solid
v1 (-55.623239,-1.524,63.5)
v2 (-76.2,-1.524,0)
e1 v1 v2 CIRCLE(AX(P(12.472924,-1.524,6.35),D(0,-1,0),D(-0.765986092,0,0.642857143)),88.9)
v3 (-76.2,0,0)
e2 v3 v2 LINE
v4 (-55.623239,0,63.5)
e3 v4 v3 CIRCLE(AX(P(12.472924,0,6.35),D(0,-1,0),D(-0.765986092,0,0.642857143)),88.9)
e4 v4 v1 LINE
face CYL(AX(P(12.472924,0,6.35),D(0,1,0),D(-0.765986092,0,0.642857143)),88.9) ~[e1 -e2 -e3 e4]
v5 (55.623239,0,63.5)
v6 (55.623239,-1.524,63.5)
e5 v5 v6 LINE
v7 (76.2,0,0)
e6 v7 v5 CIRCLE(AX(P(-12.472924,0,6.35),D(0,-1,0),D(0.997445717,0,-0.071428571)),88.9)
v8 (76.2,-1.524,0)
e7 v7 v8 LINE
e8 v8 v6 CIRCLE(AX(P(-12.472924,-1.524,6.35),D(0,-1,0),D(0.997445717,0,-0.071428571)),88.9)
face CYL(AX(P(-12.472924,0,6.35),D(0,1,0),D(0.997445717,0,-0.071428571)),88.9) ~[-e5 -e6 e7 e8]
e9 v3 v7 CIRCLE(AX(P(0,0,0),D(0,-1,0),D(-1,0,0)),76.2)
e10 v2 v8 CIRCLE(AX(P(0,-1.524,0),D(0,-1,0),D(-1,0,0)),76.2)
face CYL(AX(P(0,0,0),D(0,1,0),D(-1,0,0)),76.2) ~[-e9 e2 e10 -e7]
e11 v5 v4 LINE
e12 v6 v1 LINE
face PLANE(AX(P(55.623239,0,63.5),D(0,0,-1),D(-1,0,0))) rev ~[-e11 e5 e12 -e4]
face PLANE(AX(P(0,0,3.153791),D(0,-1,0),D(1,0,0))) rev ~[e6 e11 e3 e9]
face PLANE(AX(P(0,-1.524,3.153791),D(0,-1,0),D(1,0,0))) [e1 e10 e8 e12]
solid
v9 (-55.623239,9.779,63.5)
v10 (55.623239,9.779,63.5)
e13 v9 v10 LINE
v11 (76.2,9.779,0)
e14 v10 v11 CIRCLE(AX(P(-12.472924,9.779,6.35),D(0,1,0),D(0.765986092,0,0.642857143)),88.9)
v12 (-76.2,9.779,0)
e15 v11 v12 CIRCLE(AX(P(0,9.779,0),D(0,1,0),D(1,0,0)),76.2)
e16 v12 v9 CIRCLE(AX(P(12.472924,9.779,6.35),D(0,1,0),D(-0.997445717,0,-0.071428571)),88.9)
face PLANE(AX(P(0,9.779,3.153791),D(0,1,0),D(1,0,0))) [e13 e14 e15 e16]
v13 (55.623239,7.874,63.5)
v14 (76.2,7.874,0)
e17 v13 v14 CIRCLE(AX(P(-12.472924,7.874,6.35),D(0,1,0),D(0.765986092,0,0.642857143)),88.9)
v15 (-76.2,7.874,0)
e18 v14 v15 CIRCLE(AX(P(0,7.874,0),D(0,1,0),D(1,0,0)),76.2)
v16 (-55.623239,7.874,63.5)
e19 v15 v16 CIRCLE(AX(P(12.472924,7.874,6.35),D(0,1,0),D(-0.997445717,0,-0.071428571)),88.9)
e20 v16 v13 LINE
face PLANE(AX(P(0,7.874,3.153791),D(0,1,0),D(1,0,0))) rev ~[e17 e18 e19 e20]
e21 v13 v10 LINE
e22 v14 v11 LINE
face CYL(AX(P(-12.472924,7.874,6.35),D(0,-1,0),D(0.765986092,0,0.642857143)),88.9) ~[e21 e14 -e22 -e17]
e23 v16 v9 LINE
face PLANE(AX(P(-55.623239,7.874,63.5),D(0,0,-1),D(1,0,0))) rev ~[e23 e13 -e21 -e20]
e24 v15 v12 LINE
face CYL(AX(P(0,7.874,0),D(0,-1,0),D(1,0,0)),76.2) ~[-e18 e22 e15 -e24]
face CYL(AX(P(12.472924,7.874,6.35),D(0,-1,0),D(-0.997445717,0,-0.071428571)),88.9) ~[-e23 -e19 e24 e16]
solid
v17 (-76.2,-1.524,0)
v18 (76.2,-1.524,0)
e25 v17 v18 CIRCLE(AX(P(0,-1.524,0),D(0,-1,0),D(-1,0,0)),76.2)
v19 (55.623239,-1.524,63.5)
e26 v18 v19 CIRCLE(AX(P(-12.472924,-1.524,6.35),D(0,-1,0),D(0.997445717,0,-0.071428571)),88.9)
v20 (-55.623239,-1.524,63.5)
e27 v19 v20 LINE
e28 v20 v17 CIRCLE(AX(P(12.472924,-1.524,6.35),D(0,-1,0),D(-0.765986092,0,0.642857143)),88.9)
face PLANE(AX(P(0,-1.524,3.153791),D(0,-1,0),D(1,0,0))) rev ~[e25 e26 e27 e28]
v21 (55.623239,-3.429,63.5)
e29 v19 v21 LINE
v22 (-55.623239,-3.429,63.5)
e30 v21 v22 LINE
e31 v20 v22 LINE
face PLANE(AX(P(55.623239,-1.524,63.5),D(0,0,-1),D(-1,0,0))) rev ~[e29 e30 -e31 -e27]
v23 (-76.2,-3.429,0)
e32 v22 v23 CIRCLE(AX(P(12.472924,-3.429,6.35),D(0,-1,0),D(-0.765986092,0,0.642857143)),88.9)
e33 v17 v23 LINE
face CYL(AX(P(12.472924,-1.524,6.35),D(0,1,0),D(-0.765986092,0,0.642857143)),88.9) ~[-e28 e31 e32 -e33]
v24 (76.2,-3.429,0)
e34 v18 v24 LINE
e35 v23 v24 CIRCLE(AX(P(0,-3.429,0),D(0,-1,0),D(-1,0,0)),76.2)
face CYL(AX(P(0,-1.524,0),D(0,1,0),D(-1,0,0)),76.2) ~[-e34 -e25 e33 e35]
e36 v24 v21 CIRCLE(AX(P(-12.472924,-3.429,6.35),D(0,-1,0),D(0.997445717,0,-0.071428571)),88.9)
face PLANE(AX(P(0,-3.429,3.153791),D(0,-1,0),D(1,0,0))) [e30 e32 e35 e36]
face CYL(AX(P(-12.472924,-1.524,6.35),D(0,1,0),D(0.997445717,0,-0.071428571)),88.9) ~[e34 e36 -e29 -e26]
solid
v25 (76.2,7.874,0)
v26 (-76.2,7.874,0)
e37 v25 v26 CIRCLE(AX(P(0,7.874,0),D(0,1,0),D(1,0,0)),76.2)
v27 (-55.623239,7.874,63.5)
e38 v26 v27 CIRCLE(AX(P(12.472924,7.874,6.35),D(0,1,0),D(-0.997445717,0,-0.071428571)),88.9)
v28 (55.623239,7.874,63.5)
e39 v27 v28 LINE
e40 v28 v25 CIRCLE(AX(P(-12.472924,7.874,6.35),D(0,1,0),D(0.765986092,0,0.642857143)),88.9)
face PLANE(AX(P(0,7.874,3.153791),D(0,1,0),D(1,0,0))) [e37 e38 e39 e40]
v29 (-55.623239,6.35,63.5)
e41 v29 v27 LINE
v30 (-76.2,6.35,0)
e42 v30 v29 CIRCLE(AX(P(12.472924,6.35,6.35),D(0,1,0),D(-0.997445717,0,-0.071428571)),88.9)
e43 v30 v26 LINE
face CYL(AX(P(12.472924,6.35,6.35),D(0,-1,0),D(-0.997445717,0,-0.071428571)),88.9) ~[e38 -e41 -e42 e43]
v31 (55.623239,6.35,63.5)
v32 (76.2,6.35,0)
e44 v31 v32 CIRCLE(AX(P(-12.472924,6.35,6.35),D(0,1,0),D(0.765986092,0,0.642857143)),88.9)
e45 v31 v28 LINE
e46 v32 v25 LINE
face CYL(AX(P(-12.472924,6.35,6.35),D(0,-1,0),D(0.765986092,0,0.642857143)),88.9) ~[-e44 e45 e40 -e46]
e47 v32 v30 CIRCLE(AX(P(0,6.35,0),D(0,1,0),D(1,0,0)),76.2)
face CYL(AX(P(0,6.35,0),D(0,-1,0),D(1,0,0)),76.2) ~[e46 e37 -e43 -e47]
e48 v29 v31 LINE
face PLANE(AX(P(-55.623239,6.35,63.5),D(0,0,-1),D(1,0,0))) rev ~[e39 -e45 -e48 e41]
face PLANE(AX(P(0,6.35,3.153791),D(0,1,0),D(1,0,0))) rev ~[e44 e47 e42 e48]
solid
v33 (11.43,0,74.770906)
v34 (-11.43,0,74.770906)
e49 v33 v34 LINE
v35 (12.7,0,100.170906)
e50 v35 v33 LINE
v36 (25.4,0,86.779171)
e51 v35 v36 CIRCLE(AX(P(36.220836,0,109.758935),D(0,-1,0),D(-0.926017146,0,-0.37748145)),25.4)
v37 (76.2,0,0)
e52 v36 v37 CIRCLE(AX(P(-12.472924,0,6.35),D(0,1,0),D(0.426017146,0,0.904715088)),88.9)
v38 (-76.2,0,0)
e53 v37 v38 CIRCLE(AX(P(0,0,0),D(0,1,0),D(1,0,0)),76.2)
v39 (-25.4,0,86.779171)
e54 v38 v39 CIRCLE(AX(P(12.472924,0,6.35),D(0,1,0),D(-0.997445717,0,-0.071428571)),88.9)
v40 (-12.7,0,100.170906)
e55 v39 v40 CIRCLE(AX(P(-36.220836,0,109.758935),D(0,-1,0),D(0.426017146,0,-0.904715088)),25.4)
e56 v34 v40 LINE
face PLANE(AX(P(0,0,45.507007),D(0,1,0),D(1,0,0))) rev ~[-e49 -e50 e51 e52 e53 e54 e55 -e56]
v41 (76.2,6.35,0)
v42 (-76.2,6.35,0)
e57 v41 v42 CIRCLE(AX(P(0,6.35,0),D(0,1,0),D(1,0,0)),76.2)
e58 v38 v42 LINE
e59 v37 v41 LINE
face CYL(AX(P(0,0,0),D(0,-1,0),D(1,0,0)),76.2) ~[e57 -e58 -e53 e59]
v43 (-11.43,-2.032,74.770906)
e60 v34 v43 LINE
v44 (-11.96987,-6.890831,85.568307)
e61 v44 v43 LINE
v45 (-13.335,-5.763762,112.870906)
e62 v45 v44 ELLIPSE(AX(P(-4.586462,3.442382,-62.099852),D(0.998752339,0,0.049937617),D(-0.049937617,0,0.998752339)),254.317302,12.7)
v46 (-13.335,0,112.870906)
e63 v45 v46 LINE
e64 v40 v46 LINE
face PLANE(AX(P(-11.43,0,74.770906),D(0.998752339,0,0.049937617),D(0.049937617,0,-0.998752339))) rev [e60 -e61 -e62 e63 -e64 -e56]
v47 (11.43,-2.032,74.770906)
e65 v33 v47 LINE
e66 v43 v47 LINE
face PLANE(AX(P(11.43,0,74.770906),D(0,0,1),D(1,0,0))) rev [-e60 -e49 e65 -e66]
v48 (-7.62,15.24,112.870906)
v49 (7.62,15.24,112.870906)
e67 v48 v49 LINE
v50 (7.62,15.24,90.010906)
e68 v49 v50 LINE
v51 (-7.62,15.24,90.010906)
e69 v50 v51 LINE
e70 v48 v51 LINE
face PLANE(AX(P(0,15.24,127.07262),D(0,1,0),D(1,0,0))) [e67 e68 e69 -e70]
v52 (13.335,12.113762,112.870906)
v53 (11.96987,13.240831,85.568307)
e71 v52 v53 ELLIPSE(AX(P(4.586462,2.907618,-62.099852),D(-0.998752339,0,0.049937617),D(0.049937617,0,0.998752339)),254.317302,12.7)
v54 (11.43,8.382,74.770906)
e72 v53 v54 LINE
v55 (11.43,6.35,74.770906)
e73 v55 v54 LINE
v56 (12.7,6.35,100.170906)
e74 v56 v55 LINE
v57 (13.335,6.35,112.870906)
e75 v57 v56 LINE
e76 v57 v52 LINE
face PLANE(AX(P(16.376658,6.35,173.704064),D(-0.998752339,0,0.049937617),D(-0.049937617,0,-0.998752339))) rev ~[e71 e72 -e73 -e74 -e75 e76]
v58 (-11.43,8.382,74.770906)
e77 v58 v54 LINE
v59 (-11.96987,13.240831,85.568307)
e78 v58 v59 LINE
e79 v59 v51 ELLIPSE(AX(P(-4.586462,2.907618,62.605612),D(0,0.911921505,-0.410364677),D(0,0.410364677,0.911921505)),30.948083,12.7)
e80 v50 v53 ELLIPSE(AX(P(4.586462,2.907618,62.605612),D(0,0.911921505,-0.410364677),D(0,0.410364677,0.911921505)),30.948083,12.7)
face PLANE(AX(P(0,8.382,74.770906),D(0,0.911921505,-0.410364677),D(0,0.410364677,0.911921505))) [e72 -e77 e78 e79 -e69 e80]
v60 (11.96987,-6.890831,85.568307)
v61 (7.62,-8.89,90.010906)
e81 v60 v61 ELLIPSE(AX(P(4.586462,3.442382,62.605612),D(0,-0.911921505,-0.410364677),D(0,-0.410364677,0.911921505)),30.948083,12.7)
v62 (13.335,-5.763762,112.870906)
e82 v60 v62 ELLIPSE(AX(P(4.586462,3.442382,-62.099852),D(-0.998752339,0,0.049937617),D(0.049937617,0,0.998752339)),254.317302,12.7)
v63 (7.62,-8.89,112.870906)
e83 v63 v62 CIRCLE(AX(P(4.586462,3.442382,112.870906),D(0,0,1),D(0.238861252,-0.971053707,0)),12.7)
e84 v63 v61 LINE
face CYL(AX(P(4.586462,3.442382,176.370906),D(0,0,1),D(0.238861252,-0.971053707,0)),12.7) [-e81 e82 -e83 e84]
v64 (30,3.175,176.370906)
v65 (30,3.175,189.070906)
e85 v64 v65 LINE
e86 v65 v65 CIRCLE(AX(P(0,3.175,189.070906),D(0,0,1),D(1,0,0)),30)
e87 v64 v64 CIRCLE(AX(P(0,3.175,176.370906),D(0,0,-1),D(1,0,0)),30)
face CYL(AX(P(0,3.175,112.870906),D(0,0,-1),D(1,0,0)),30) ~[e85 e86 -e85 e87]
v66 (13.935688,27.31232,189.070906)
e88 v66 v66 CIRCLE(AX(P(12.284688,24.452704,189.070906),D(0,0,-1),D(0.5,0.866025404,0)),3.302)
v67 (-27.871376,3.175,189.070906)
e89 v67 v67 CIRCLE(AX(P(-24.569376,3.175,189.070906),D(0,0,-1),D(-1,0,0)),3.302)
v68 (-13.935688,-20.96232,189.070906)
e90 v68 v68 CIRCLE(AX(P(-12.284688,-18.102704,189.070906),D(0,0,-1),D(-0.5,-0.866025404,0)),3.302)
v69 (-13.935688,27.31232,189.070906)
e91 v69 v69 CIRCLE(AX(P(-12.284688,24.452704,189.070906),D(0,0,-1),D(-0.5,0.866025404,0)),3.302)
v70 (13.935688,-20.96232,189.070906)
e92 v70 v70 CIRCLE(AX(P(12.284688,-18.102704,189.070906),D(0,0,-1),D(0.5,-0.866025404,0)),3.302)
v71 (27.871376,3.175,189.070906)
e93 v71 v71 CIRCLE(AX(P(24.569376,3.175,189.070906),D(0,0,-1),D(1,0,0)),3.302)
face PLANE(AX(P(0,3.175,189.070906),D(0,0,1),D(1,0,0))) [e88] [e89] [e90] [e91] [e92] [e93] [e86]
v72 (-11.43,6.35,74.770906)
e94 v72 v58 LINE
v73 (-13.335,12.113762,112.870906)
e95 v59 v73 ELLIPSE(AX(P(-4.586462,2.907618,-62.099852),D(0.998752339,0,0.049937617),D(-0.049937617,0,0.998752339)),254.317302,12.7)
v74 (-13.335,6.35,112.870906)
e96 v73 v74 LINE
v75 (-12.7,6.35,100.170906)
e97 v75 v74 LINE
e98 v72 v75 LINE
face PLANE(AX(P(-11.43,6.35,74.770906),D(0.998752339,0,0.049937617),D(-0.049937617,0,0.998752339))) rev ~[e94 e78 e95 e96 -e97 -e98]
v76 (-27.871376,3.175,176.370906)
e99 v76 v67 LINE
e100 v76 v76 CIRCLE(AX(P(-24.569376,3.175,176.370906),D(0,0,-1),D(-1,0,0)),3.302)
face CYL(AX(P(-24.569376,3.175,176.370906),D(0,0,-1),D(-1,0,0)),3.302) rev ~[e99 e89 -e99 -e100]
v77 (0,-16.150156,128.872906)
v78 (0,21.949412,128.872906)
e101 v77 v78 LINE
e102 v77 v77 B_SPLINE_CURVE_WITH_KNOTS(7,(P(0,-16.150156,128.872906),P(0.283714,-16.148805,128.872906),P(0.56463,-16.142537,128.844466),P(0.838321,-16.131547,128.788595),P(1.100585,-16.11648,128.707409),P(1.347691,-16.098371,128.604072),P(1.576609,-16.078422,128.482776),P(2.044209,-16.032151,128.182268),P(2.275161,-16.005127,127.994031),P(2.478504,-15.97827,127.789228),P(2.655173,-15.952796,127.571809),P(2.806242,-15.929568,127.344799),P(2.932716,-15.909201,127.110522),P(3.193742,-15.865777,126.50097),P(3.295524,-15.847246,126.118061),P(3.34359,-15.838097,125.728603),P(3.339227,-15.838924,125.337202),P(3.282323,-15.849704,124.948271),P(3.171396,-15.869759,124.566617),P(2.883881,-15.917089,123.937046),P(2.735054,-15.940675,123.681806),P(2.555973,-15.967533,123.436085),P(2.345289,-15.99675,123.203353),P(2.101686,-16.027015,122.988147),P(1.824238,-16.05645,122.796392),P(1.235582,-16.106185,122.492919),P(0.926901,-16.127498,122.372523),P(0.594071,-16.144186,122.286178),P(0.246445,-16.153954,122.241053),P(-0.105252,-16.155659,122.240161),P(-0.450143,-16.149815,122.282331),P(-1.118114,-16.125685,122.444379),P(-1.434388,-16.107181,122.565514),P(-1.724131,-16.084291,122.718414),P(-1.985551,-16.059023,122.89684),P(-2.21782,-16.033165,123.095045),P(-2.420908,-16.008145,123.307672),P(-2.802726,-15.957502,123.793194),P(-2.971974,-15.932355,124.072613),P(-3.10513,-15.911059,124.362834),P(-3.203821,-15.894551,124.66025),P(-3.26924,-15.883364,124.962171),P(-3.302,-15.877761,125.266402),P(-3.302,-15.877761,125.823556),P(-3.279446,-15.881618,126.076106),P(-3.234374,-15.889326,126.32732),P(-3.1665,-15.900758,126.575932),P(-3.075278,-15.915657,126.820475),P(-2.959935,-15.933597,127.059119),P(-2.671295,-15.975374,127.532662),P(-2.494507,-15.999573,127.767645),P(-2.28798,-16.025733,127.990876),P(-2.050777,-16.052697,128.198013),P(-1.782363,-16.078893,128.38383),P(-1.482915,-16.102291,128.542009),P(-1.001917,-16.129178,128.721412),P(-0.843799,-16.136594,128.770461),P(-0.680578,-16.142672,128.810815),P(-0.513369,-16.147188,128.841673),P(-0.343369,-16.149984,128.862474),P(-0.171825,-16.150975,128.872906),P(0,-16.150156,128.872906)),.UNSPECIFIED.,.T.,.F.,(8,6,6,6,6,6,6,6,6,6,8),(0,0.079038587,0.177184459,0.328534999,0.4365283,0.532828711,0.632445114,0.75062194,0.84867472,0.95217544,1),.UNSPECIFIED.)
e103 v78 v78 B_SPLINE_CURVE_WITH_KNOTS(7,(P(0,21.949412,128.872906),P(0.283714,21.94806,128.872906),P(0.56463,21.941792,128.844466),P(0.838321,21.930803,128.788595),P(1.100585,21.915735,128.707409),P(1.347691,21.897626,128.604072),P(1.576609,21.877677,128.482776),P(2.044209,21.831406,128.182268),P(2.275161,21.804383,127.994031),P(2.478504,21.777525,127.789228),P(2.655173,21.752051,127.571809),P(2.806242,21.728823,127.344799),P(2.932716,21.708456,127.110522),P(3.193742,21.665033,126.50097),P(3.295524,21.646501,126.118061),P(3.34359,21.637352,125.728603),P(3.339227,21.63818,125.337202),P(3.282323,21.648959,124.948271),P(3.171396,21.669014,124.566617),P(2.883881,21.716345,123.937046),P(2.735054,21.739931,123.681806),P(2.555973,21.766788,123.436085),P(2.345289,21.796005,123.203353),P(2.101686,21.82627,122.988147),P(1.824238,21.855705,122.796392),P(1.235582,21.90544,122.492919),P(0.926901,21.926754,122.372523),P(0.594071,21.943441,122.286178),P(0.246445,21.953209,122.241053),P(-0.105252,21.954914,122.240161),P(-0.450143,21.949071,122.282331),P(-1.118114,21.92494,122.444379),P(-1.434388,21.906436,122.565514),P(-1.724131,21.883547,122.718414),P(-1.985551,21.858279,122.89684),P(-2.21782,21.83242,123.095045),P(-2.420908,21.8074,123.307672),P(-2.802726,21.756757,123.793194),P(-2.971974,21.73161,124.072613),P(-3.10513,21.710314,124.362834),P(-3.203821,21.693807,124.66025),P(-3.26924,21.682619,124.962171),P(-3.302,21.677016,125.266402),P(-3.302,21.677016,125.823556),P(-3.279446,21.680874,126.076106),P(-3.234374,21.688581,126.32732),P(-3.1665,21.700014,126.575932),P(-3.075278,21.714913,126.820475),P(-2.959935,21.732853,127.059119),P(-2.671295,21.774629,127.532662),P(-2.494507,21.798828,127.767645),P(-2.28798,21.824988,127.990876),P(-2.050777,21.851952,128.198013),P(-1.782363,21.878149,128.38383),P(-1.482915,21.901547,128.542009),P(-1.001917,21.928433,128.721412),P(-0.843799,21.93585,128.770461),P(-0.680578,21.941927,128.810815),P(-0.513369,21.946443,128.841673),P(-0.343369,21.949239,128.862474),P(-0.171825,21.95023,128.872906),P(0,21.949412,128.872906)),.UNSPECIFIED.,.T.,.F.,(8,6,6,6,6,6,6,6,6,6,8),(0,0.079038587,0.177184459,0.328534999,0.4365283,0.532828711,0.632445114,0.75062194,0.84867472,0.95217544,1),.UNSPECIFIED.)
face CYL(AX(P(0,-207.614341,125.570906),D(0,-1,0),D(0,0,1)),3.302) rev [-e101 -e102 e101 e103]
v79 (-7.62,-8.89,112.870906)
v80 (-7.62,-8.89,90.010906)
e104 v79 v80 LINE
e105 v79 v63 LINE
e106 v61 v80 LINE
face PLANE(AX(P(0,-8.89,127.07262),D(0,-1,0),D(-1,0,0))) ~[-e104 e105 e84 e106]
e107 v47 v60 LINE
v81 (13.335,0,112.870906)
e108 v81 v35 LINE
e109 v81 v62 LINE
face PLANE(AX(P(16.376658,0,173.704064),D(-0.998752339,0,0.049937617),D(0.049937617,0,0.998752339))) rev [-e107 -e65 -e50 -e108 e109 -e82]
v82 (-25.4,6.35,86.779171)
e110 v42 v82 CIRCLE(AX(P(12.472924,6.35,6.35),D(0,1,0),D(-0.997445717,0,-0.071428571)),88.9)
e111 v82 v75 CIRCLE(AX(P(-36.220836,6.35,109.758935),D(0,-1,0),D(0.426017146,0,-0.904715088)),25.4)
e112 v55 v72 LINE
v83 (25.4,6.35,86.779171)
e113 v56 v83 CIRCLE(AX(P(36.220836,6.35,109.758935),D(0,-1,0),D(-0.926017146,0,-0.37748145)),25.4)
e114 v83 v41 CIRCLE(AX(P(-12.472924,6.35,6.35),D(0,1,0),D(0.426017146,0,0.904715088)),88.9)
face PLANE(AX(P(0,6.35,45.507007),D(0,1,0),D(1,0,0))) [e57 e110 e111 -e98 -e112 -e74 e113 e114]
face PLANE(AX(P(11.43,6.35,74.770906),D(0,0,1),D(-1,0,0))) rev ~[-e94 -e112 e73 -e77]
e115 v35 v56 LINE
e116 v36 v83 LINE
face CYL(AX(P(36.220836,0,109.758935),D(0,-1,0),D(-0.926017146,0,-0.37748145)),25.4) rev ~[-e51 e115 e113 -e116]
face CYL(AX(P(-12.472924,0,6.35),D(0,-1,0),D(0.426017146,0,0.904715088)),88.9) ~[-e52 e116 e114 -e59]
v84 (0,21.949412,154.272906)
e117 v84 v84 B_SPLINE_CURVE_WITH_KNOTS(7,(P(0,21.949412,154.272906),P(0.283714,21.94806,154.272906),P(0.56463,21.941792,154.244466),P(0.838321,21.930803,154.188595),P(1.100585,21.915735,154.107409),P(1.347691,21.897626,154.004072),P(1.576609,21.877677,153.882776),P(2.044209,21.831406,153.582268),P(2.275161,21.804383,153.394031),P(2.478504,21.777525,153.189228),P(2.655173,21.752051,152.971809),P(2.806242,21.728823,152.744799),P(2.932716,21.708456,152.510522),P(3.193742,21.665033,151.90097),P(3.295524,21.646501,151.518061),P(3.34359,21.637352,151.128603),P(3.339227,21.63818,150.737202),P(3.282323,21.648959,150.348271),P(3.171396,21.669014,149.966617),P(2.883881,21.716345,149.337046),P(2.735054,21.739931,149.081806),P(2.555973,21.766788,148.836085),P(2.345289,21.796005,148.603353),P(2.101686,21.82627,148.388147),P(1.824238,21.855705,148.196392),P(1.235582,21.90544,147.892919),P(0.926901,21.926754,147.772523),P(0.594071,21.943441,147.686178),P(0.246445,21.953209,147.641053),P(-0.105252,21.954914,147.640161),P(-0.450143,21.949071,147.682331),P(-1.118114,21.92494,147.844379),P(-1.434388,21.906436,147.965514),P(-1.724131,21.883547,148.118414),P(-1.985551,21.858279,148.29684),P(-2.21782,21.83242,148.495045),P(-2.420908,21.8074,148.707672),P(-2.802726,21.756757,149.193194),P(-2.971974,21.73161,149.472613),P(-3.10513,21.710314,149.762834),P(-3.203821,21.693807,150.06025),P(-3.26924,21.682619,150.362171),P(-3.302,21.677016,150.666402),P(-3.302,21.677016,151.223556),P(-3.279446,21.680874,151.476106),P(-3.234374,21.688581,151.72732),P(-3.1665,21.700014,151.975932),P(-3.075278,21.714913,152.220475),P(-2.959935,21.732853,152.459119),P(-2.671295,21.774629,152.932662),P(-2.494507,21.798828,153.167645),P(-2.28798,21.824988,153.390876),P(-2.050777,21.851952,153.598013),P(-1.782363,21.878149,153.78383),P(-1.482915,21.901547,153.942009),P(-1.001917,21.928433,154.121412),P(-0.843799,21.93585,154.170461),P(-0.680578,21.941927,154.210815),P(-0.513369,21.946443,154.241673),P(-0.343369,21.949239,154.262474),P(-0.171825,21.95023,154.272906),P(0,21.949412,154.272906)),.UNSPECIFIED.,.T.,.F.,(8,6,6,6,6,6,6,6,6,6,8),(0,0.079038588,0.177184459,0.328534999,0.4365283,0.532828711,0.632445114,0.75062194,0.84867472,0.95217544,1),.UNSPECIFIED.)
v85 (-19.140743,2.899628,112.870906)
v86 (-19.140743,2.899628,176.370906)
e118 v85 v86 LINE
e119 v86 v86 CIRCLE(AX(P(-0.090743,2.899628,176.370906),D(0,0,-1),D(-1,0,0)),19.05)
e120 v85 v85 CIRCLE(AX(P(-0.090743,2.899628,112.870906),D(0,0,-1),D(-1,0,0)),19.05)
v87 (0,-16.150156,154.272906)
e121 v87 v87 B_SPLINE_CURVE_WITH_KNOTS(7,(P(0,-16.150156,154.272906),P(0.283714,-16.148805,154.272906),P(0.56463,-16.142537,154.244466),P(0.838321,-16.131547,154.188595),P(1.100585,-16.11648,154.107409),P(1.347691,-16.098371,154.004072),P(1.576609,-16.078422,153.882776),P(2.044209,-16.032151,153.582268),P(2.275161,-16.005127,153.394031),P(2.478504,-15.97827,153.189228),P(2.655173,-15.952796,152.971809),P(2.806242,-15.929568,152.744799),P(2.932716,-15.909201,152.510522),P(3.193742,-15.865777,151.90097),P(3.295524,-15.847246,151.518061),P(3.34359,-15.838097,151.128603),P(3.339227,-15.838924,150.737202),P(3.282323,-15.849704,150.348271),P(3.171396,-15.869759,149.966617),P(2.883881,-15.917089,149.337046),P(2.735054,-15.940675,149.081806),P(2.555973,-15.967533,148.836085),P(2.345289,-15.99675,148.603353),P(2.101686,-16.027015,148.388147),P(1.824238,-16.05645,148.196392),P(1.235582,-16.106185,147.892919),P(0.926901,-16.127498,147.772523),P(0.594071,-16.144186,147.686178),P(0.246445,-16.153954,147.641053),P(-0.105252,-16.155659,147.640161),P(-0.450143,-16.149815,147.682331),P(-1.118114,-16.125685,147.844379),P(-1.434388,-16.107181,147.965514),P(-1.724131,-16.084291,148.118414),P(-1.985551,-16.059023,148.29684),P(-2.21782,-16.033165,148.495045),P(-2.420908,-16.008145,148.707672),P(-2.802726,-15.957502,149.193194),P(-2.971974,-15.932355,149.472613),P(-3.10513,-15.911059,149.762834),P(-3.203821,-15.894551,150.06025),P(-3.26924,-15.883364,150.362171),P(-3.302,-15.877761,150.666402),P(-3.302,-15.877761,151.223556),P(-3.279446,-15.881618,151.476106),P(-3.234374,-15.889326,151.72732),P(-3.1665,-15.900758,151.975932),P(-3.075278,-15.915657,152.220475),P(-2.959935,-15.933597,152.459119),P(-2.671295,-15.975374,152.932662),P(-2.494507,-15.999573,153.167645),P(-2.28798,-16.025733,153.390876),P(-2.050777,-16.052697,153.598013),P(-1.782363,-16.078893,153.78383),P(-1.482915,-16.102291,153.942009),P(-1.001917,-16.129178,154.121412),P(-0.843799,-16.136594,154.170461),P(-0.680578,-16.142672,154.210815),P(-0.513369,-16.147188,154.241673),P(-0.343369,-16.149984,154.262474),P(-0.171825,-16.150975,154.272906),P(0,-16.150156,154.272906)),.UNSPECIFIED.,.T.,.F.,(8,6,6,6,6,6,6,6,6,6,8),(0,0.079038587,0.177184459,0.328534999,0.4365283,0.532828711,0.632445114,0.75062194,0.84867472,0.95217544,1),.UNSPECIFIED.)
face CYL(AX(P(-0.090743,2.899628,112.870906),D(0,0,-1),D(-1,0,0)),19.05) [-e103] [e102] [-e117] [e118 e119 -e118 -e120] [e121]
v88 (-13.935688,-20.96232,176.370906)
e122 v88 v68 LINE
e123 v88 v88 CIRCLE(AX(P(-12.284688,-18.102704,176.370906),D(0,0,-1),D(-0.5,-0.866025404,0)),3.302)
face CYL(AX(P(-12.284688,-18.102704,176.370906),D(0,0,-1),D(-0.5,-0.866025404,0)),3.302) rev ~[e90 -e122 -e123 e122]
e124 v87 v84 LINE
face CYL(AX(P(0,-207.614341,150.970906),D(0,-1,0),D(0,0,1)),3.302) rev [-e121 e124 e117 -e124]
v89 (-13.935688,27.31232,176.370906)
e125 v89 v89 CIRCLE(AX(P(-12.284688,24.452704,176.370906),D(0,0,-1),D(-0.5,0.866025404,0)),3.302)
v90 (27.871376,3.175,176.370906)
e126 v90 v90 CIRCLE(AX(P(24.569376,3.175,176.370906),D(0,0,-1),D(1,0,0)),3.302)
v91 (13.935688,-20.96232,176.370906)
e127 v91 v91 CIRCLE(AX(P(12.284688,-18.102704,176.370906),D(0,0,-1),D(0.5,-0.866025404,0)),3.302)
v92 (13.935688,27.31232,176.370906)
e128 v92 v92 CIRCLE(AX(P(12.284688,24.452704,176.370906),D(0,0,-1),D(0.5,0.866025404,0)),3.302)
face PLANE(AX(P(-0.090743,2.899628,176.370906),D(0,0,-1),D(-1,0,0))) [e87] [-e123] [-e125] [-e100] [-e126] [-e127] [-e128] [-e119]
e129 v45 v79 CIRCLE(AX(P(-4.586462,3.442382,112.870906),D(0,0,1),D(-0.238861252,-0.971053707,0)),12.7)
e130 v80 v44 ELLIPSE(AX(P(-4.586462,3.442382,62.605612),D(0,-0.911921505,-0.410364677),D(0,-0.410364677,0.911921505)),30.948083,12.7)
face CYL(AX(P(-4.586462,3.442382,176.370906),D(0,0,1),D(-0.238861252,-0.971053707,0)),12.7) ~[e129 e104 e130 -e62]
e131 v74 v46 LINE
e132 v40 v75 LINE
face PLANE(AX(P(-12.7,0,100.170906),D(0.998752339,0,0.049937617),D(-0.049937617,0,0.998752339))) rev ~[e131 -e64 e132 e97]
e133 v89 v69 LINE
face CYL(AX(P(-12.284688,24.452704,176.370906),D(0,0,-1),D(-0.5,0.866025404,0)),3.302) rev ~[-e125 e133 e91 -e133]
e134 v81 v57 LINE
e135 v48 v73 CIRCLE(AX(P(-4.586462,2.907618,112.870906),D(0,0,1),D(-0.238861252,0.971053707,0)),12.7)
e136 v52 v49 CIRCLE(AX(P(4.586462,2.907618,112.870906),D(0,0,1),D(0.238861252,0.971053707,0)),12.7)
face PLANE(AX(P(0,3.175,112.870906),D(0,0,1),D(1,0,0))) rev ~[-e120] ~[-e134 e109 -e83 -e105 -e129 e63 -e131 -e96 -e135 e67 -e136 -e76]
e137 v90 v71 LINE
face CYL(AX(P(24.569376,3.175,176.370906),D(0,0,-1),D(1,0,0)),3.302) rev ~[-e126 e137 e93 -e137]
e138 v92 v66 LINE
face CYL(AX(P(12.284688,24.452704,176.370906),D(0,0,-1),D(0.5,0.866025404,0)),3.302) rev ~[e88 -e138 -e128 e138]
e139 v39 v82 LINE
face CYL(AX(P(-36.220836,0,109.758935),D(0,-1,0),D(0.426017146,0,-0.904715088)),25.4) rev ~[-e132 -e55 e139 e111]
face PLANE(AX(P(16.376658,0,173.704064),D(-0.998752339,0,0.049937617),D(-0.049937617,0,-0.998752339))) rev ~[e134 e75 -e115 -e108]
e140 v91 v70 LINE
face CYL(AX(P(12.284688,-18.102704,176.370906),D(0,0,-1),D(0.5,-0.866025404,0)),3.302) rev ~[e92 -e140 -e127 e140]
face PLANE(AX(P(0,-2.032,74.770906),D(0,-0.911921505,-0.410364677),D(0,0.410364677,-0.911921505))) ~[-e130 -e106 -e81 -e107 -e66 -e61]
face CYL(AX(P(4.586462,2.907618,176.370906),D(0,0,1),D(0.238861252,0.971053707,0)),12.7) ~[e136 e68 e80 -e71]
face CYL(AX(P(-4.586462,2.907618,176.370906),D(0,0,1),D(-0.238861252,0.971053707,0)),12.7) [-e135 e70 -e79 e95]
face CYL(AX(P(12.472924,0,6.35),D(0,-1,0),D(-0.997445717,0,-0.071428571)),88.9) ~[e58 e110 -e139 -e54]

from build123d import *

# Parameters (mm, degrees)
BOSS_EXTRUDE1_DEPTH      = 6.35
BOSS_EXTRUDE2_DEPTH      = 1.524
BOSS_EXTRUDE4_DEPTH      = 1.905
BOSS_EXTRUDE5_DEPTH      = 1.524
BOSS_EXTRUDE6_DEPTH      = 1.905
BOSS_EXTRUDE7_DEPTH      = 8.89
CUT_EXTRUDE1_DEPTH       = 101.6
CUT_EXTRUDE2_DEPTH       = 25.4
BOSS_EXTRUDE8_DEPTH      = 12.7
BOSS_EXTRUDE8_DEPTH_BACK = 63.5
SKETCH10_R               = 30
CUT_EXTRUDE3_DEPTH       = 207.614341078
CUT_EXTRUDE3_DEPTH_BACK  = 207.614341078
SKETCH11_R               = 3.302
SKETCH12_R               = 37.410061843
SKETCH12_R_2             = 19.05
CUT_EXTRUDE4_DEPTH       = 63.5
SKETCH13_R               = 3.302
CUT_EXTRUDE6_DEPTH       = 266.958156432
CIRPATTERN1_COUNT        = 6


with BuildPart() as part:
    # Sketch2 → Boss-Extrude1 (new body)
    with BuildSketch(Plane(origin=(0, 0, 0), x_dir=(1, 0, 0), z_dir=(0, 1, 0))):
        with BuildLine():
            Line((-12.7, -100.170905775), (-16.376657923, -173.704064228))
            ThreePointArc((-16.376657923, -173.704064228), (-15.680177156, -175.581537443), (-13.839826982, -176.370905775))
            Line((-13.839826982, -176.370905775), (13.839826982, -176.370905775))
            ThreePointArc((13.839826982, -176.370905775), (15.680177156, -175.581537443), (16.376657923, -173.704064228))
            Line((16.376657923, -173.704064228), (12.7, -100.170905775))
            ThreePointArc((12.7, -100.170905775), (17.790636658, -92.280726172), (25.4, -86.779171366))
            ThreePointArc((25.4, -86.779171366), (64.24812298, -51.26203522), (76.2, 0))
            ThreePointArc((76.2, 0), (0, 76.2), (-76.2, 0))
            ThreePointArc((-76.2, 0), (-64.24812298, -51.26203522), (-25.4, -86.779171366))
            ThreePointArc((-25.4, -86.779171366), (-17.790636658, -92.280726172), (-12.7, -100.170905775))
        make_face()
    extrude(amount=BOSS_EXTRUDE1_DEPTH)

    # Sketch7 → Boss-Extrude7 (add)
    with BuildSketch(Plane(origin=(0, 6.35, 0), x_dir=(1, 0, 0), z_dir=(0, 1, 0))):
        with BuildLine():
            Line((-11.43, -74.770905775), (-16.376657923, -173.704064228))
            ThreePointArc((-16.376657923, -173.704064228), (-15.680177156, -175.581537443), (-13.839826982, -176.370905775))
            Line((-13.839826982, -176.370905775), (13.839826982, -176.370905775))
            ThreePointArc((13.839826982, -176.370905775), (15.680177156, -175.581537443), (16.376657923, -173.704064228))
            Line((16.376657923, -173.704064228), (11.43, -74.770905775))
            Line((11.43, -74.770905775), (-11.43, -74.770905775))
        make_face()
    boss_extrude7 = extrude(amount=BOSS_EXTRUDE7_DEPTH)

    # Sketch8 → Cut-Extrude1 (cut)
    with BuildSketch(Plane.XY.offset(176.370905775)):
        with BuildLine():
            Line((-13.839826982, 15.24), (-7.62, 15.24))
            ThreePointArc((-7.62, 15.24), (-12.921650252, 12.489613458), (-16.379826982, 7.62))
            Line((-16.379826982, 7.62), (-16.379826982, 15.24))
            Line((-16.379826982, 15.24), (-13.839826982, 15.24))
        make_face()
        with BuildLine():
            Line((16.379826982, 15.24), (13.839826982, 15.24))
            Line((13.839826982, 15.24), (7.62, 15.24))
            ThreePointArc((7.62, 15.24), (12.921650252, 12.489613458), (16.379826982, 7.62))
            Line((16.379826982, 7.62), (16.379826982, 15.24))
        make_face()
    cut_extrude1 = extrude(amount=-CUT_EXTRUDE1_DEPTH, mode=Mode.SUBTRACT)

    # Sketch9 → Cut-Extrude2 (cut, symmetric)
    with BuildSketch(Plane(origin=(0, 0, -0.19192658), x_dir=(0, 0, -1), z_dir=(1, 0, 0))):
        Polygon((-74.962832355, 8.382), (-90.202832355, 15.24), (-74.962832355, 15.24), align=None)
    cut_extrude2 = extrude(amount=CUT_EXTRUDE2_DEPTH, both=True, mode=Mode.SUBTRACT)

    # Mirror8: Boss-Extrude7, Cut-Extrude1, Cut-Extrude2 across plane
    add(boss_extrude7.mirror(Plane.ZX.offset(3.175)))
    add(cut_extrude1.mirror(Plane.ZX.offset(3.175)), mode=Mode.SUBTRACT)
    add(cut_extrude2.mirror(Plane.ZX.offset(3.175)), mode=Mode.SUBTRACT)

    # Sketch10 → Boss-Extrude8 (add, two sides: drawn at the far end of the back side and taken through both)
    with BuildSketch(Plane.XY.offset(176.370905775).offset(-BOSS_EXTRUDE8_DEPTH_BACK)):
        with Locations((0, 3.175)):
            Circle(SKETCH10_R)
    extrude(amount=BOSS_EXTRUDE8_DEPTH + BOSS_EXTRUDE8_DEPTH_BACK)

    # Sketch11 → Cut-Extrude3 (cut, two sides: drawn at the far end of the back side and taken through both)
    with BuildSketch(Plane(origin=(0, 0, 0), x_dir=(1, 0, 0), z_dir=(0, 1, 0)).offset(-CUT_EXTRUDE3_DEPTH_BACK)):
        with Locations((0, -125.570905775)):
            Circle(SKETCH11_R)
        with Locations((0, -150.970905775)):
            Circle(SKETCH11_R)
    extrude(amount=CUT_EXTRUDE3_DEPTH + CUT_EXTRUDE3_DEPTH_BACK, mode=Mode.SUBTRACT)

    # Sketch12 → Cut-Extrude4 (cut)
    with BuildSketch(Plane(origin=(0, 0, 112.870905775), x_dir=(-1, 0, 0), z_dir=(0, 0, -1))):
        with Locations((0.090742593, 2.899627676)):
            Circle(SKETCH12_R)
        with Locations((0.090742593, 2.899627676)):
            Circle(SKETCH12_R_2, mode=Mode.SUBTRACT)
    extrude(amount=-CUT_EXTRUDE4_DEPTH, mode=Mode.SUBTRACT)

    # Sketch13 → Cut-Extrude6 (cut, through all)
    with BuildSketch(Plane(origin=(0, 0, 176.370905775), x_dir=(-1, 0, 0), z_dir=(0, 0, -1))):
        with Locations((24.569376101, 3.175)):
            Circle(SKETCH13_R)
    cut_extrude6 = extrude(amount=-CUT_EXTRUDE6_DEPTH, mode=Mode.SUBTRACT)

    # CirPattern1: Cut-Extrude6 ×6 about axis
    cirpattern1_axis = Axis((0, 3.175, 176.370905775), (0, 0, 1))
    for i in range(1, CIRPATTERN1_COUNT):
        add(cut_extrude6.rotate(cirpattern1_axis, i * 360 / CIRPATTERN1_COUNT), mode=Mode.SUBTRACT)


with BuildPart() as body_2:
    # Sketch3 → Boss-Extrude2 (new body)
    with BuildSketch(Plane(origin=(0, 6.35, 0), x_dir=(1, 0, 0), z_dir=(0, 1, 0))):
        with BuildLine():
            Line((-55.623239344, -63.5), (55.623239344, -63.5))
            ThreePointArc((55.623239344, -63.5), (72.09775167, -33.754575709), (76.2, 0))
            ThreePointArc((76.2, 0), (0, 76.2), (-76.2, 0))
            ThreePointArc((-76.2, 0), (-72.09775167, -33.754575709), (-55.623239344, -63.5))
        make_face()
    extrude(amount=BOSS_EXTRUDE2_DEPTH)


with BuildPart() as body_3:
    # Sketch4 → Boss-Extrude4 (new body)
    with BuildSketch(Plane(origin=(0, 7.874, 0), x_dir=(1, 0, 0), z_dir=(0, 1, 0))):
        with BuildLine():
            Line((-55.623239344, -63.5), (55.623239344, -63.5))
            ThreePointArc((55.623239344, -63.5), (72.09775167, -33.754575709), (76.2, 0))
            ThreePointArc((76.2, 0), (0, 76.2), (-76.2, 0))
            ThreePointArc((-76.2, 0), (-72.09775167, -33.754575709), (-55.623239344, -63.5))
        make_face()
    extrude(amount=BOSS_EXTRUDE4_DEPTH)


with BuildPart() as body_4:
    # Sketch5 → Boss-Extrude5 (new body)
    with BuildSketch(Plane.XZ):
        with BuildLine():
            Line((55.623239344, 63.5), (-55.623239344, 63.5))
            ThreePointArc((-55.623239344, 63.5), (-72.09775167, 33.754575709), (-76.2, 0))
            ThreePointArc((-76.2, 0), (0, -76.2), (76.2, 0))
            ThreePointArc((76.2, 0), (72.09775167, 33.754575709), (55.623239344, 63.5))
        make_face()
    extrude(amount=BOSS_EXTRUDE5_DEPTH)


with BuildPart() as body_5:
    # Sketch6 → Boss-Extrude6 (new body)
    with BuildSketch(Plane.XZ.offset(1.524)):
        with BuildLine():
            Line((55.623239344, 63.5), (-55.623239344, 63.5))
            ThreePointArc((-55.623239344, 63.5), (-72.09775167, 33.754575709), (-76.2, 0))
            ThreePointArc((-76.2, 0), (0, -76.2), (76.2, 0))
            ThreePointArc((76.2, 0), (72.09775167, 33.754575709), (55.623239344, 63.5))
        make_face()
    extrude(amount=BOSS_EXTRUDE6_DEPTH)


solid = Compound([part.part, body_2.part, body_3.part, body_4.part, body_5.part])
